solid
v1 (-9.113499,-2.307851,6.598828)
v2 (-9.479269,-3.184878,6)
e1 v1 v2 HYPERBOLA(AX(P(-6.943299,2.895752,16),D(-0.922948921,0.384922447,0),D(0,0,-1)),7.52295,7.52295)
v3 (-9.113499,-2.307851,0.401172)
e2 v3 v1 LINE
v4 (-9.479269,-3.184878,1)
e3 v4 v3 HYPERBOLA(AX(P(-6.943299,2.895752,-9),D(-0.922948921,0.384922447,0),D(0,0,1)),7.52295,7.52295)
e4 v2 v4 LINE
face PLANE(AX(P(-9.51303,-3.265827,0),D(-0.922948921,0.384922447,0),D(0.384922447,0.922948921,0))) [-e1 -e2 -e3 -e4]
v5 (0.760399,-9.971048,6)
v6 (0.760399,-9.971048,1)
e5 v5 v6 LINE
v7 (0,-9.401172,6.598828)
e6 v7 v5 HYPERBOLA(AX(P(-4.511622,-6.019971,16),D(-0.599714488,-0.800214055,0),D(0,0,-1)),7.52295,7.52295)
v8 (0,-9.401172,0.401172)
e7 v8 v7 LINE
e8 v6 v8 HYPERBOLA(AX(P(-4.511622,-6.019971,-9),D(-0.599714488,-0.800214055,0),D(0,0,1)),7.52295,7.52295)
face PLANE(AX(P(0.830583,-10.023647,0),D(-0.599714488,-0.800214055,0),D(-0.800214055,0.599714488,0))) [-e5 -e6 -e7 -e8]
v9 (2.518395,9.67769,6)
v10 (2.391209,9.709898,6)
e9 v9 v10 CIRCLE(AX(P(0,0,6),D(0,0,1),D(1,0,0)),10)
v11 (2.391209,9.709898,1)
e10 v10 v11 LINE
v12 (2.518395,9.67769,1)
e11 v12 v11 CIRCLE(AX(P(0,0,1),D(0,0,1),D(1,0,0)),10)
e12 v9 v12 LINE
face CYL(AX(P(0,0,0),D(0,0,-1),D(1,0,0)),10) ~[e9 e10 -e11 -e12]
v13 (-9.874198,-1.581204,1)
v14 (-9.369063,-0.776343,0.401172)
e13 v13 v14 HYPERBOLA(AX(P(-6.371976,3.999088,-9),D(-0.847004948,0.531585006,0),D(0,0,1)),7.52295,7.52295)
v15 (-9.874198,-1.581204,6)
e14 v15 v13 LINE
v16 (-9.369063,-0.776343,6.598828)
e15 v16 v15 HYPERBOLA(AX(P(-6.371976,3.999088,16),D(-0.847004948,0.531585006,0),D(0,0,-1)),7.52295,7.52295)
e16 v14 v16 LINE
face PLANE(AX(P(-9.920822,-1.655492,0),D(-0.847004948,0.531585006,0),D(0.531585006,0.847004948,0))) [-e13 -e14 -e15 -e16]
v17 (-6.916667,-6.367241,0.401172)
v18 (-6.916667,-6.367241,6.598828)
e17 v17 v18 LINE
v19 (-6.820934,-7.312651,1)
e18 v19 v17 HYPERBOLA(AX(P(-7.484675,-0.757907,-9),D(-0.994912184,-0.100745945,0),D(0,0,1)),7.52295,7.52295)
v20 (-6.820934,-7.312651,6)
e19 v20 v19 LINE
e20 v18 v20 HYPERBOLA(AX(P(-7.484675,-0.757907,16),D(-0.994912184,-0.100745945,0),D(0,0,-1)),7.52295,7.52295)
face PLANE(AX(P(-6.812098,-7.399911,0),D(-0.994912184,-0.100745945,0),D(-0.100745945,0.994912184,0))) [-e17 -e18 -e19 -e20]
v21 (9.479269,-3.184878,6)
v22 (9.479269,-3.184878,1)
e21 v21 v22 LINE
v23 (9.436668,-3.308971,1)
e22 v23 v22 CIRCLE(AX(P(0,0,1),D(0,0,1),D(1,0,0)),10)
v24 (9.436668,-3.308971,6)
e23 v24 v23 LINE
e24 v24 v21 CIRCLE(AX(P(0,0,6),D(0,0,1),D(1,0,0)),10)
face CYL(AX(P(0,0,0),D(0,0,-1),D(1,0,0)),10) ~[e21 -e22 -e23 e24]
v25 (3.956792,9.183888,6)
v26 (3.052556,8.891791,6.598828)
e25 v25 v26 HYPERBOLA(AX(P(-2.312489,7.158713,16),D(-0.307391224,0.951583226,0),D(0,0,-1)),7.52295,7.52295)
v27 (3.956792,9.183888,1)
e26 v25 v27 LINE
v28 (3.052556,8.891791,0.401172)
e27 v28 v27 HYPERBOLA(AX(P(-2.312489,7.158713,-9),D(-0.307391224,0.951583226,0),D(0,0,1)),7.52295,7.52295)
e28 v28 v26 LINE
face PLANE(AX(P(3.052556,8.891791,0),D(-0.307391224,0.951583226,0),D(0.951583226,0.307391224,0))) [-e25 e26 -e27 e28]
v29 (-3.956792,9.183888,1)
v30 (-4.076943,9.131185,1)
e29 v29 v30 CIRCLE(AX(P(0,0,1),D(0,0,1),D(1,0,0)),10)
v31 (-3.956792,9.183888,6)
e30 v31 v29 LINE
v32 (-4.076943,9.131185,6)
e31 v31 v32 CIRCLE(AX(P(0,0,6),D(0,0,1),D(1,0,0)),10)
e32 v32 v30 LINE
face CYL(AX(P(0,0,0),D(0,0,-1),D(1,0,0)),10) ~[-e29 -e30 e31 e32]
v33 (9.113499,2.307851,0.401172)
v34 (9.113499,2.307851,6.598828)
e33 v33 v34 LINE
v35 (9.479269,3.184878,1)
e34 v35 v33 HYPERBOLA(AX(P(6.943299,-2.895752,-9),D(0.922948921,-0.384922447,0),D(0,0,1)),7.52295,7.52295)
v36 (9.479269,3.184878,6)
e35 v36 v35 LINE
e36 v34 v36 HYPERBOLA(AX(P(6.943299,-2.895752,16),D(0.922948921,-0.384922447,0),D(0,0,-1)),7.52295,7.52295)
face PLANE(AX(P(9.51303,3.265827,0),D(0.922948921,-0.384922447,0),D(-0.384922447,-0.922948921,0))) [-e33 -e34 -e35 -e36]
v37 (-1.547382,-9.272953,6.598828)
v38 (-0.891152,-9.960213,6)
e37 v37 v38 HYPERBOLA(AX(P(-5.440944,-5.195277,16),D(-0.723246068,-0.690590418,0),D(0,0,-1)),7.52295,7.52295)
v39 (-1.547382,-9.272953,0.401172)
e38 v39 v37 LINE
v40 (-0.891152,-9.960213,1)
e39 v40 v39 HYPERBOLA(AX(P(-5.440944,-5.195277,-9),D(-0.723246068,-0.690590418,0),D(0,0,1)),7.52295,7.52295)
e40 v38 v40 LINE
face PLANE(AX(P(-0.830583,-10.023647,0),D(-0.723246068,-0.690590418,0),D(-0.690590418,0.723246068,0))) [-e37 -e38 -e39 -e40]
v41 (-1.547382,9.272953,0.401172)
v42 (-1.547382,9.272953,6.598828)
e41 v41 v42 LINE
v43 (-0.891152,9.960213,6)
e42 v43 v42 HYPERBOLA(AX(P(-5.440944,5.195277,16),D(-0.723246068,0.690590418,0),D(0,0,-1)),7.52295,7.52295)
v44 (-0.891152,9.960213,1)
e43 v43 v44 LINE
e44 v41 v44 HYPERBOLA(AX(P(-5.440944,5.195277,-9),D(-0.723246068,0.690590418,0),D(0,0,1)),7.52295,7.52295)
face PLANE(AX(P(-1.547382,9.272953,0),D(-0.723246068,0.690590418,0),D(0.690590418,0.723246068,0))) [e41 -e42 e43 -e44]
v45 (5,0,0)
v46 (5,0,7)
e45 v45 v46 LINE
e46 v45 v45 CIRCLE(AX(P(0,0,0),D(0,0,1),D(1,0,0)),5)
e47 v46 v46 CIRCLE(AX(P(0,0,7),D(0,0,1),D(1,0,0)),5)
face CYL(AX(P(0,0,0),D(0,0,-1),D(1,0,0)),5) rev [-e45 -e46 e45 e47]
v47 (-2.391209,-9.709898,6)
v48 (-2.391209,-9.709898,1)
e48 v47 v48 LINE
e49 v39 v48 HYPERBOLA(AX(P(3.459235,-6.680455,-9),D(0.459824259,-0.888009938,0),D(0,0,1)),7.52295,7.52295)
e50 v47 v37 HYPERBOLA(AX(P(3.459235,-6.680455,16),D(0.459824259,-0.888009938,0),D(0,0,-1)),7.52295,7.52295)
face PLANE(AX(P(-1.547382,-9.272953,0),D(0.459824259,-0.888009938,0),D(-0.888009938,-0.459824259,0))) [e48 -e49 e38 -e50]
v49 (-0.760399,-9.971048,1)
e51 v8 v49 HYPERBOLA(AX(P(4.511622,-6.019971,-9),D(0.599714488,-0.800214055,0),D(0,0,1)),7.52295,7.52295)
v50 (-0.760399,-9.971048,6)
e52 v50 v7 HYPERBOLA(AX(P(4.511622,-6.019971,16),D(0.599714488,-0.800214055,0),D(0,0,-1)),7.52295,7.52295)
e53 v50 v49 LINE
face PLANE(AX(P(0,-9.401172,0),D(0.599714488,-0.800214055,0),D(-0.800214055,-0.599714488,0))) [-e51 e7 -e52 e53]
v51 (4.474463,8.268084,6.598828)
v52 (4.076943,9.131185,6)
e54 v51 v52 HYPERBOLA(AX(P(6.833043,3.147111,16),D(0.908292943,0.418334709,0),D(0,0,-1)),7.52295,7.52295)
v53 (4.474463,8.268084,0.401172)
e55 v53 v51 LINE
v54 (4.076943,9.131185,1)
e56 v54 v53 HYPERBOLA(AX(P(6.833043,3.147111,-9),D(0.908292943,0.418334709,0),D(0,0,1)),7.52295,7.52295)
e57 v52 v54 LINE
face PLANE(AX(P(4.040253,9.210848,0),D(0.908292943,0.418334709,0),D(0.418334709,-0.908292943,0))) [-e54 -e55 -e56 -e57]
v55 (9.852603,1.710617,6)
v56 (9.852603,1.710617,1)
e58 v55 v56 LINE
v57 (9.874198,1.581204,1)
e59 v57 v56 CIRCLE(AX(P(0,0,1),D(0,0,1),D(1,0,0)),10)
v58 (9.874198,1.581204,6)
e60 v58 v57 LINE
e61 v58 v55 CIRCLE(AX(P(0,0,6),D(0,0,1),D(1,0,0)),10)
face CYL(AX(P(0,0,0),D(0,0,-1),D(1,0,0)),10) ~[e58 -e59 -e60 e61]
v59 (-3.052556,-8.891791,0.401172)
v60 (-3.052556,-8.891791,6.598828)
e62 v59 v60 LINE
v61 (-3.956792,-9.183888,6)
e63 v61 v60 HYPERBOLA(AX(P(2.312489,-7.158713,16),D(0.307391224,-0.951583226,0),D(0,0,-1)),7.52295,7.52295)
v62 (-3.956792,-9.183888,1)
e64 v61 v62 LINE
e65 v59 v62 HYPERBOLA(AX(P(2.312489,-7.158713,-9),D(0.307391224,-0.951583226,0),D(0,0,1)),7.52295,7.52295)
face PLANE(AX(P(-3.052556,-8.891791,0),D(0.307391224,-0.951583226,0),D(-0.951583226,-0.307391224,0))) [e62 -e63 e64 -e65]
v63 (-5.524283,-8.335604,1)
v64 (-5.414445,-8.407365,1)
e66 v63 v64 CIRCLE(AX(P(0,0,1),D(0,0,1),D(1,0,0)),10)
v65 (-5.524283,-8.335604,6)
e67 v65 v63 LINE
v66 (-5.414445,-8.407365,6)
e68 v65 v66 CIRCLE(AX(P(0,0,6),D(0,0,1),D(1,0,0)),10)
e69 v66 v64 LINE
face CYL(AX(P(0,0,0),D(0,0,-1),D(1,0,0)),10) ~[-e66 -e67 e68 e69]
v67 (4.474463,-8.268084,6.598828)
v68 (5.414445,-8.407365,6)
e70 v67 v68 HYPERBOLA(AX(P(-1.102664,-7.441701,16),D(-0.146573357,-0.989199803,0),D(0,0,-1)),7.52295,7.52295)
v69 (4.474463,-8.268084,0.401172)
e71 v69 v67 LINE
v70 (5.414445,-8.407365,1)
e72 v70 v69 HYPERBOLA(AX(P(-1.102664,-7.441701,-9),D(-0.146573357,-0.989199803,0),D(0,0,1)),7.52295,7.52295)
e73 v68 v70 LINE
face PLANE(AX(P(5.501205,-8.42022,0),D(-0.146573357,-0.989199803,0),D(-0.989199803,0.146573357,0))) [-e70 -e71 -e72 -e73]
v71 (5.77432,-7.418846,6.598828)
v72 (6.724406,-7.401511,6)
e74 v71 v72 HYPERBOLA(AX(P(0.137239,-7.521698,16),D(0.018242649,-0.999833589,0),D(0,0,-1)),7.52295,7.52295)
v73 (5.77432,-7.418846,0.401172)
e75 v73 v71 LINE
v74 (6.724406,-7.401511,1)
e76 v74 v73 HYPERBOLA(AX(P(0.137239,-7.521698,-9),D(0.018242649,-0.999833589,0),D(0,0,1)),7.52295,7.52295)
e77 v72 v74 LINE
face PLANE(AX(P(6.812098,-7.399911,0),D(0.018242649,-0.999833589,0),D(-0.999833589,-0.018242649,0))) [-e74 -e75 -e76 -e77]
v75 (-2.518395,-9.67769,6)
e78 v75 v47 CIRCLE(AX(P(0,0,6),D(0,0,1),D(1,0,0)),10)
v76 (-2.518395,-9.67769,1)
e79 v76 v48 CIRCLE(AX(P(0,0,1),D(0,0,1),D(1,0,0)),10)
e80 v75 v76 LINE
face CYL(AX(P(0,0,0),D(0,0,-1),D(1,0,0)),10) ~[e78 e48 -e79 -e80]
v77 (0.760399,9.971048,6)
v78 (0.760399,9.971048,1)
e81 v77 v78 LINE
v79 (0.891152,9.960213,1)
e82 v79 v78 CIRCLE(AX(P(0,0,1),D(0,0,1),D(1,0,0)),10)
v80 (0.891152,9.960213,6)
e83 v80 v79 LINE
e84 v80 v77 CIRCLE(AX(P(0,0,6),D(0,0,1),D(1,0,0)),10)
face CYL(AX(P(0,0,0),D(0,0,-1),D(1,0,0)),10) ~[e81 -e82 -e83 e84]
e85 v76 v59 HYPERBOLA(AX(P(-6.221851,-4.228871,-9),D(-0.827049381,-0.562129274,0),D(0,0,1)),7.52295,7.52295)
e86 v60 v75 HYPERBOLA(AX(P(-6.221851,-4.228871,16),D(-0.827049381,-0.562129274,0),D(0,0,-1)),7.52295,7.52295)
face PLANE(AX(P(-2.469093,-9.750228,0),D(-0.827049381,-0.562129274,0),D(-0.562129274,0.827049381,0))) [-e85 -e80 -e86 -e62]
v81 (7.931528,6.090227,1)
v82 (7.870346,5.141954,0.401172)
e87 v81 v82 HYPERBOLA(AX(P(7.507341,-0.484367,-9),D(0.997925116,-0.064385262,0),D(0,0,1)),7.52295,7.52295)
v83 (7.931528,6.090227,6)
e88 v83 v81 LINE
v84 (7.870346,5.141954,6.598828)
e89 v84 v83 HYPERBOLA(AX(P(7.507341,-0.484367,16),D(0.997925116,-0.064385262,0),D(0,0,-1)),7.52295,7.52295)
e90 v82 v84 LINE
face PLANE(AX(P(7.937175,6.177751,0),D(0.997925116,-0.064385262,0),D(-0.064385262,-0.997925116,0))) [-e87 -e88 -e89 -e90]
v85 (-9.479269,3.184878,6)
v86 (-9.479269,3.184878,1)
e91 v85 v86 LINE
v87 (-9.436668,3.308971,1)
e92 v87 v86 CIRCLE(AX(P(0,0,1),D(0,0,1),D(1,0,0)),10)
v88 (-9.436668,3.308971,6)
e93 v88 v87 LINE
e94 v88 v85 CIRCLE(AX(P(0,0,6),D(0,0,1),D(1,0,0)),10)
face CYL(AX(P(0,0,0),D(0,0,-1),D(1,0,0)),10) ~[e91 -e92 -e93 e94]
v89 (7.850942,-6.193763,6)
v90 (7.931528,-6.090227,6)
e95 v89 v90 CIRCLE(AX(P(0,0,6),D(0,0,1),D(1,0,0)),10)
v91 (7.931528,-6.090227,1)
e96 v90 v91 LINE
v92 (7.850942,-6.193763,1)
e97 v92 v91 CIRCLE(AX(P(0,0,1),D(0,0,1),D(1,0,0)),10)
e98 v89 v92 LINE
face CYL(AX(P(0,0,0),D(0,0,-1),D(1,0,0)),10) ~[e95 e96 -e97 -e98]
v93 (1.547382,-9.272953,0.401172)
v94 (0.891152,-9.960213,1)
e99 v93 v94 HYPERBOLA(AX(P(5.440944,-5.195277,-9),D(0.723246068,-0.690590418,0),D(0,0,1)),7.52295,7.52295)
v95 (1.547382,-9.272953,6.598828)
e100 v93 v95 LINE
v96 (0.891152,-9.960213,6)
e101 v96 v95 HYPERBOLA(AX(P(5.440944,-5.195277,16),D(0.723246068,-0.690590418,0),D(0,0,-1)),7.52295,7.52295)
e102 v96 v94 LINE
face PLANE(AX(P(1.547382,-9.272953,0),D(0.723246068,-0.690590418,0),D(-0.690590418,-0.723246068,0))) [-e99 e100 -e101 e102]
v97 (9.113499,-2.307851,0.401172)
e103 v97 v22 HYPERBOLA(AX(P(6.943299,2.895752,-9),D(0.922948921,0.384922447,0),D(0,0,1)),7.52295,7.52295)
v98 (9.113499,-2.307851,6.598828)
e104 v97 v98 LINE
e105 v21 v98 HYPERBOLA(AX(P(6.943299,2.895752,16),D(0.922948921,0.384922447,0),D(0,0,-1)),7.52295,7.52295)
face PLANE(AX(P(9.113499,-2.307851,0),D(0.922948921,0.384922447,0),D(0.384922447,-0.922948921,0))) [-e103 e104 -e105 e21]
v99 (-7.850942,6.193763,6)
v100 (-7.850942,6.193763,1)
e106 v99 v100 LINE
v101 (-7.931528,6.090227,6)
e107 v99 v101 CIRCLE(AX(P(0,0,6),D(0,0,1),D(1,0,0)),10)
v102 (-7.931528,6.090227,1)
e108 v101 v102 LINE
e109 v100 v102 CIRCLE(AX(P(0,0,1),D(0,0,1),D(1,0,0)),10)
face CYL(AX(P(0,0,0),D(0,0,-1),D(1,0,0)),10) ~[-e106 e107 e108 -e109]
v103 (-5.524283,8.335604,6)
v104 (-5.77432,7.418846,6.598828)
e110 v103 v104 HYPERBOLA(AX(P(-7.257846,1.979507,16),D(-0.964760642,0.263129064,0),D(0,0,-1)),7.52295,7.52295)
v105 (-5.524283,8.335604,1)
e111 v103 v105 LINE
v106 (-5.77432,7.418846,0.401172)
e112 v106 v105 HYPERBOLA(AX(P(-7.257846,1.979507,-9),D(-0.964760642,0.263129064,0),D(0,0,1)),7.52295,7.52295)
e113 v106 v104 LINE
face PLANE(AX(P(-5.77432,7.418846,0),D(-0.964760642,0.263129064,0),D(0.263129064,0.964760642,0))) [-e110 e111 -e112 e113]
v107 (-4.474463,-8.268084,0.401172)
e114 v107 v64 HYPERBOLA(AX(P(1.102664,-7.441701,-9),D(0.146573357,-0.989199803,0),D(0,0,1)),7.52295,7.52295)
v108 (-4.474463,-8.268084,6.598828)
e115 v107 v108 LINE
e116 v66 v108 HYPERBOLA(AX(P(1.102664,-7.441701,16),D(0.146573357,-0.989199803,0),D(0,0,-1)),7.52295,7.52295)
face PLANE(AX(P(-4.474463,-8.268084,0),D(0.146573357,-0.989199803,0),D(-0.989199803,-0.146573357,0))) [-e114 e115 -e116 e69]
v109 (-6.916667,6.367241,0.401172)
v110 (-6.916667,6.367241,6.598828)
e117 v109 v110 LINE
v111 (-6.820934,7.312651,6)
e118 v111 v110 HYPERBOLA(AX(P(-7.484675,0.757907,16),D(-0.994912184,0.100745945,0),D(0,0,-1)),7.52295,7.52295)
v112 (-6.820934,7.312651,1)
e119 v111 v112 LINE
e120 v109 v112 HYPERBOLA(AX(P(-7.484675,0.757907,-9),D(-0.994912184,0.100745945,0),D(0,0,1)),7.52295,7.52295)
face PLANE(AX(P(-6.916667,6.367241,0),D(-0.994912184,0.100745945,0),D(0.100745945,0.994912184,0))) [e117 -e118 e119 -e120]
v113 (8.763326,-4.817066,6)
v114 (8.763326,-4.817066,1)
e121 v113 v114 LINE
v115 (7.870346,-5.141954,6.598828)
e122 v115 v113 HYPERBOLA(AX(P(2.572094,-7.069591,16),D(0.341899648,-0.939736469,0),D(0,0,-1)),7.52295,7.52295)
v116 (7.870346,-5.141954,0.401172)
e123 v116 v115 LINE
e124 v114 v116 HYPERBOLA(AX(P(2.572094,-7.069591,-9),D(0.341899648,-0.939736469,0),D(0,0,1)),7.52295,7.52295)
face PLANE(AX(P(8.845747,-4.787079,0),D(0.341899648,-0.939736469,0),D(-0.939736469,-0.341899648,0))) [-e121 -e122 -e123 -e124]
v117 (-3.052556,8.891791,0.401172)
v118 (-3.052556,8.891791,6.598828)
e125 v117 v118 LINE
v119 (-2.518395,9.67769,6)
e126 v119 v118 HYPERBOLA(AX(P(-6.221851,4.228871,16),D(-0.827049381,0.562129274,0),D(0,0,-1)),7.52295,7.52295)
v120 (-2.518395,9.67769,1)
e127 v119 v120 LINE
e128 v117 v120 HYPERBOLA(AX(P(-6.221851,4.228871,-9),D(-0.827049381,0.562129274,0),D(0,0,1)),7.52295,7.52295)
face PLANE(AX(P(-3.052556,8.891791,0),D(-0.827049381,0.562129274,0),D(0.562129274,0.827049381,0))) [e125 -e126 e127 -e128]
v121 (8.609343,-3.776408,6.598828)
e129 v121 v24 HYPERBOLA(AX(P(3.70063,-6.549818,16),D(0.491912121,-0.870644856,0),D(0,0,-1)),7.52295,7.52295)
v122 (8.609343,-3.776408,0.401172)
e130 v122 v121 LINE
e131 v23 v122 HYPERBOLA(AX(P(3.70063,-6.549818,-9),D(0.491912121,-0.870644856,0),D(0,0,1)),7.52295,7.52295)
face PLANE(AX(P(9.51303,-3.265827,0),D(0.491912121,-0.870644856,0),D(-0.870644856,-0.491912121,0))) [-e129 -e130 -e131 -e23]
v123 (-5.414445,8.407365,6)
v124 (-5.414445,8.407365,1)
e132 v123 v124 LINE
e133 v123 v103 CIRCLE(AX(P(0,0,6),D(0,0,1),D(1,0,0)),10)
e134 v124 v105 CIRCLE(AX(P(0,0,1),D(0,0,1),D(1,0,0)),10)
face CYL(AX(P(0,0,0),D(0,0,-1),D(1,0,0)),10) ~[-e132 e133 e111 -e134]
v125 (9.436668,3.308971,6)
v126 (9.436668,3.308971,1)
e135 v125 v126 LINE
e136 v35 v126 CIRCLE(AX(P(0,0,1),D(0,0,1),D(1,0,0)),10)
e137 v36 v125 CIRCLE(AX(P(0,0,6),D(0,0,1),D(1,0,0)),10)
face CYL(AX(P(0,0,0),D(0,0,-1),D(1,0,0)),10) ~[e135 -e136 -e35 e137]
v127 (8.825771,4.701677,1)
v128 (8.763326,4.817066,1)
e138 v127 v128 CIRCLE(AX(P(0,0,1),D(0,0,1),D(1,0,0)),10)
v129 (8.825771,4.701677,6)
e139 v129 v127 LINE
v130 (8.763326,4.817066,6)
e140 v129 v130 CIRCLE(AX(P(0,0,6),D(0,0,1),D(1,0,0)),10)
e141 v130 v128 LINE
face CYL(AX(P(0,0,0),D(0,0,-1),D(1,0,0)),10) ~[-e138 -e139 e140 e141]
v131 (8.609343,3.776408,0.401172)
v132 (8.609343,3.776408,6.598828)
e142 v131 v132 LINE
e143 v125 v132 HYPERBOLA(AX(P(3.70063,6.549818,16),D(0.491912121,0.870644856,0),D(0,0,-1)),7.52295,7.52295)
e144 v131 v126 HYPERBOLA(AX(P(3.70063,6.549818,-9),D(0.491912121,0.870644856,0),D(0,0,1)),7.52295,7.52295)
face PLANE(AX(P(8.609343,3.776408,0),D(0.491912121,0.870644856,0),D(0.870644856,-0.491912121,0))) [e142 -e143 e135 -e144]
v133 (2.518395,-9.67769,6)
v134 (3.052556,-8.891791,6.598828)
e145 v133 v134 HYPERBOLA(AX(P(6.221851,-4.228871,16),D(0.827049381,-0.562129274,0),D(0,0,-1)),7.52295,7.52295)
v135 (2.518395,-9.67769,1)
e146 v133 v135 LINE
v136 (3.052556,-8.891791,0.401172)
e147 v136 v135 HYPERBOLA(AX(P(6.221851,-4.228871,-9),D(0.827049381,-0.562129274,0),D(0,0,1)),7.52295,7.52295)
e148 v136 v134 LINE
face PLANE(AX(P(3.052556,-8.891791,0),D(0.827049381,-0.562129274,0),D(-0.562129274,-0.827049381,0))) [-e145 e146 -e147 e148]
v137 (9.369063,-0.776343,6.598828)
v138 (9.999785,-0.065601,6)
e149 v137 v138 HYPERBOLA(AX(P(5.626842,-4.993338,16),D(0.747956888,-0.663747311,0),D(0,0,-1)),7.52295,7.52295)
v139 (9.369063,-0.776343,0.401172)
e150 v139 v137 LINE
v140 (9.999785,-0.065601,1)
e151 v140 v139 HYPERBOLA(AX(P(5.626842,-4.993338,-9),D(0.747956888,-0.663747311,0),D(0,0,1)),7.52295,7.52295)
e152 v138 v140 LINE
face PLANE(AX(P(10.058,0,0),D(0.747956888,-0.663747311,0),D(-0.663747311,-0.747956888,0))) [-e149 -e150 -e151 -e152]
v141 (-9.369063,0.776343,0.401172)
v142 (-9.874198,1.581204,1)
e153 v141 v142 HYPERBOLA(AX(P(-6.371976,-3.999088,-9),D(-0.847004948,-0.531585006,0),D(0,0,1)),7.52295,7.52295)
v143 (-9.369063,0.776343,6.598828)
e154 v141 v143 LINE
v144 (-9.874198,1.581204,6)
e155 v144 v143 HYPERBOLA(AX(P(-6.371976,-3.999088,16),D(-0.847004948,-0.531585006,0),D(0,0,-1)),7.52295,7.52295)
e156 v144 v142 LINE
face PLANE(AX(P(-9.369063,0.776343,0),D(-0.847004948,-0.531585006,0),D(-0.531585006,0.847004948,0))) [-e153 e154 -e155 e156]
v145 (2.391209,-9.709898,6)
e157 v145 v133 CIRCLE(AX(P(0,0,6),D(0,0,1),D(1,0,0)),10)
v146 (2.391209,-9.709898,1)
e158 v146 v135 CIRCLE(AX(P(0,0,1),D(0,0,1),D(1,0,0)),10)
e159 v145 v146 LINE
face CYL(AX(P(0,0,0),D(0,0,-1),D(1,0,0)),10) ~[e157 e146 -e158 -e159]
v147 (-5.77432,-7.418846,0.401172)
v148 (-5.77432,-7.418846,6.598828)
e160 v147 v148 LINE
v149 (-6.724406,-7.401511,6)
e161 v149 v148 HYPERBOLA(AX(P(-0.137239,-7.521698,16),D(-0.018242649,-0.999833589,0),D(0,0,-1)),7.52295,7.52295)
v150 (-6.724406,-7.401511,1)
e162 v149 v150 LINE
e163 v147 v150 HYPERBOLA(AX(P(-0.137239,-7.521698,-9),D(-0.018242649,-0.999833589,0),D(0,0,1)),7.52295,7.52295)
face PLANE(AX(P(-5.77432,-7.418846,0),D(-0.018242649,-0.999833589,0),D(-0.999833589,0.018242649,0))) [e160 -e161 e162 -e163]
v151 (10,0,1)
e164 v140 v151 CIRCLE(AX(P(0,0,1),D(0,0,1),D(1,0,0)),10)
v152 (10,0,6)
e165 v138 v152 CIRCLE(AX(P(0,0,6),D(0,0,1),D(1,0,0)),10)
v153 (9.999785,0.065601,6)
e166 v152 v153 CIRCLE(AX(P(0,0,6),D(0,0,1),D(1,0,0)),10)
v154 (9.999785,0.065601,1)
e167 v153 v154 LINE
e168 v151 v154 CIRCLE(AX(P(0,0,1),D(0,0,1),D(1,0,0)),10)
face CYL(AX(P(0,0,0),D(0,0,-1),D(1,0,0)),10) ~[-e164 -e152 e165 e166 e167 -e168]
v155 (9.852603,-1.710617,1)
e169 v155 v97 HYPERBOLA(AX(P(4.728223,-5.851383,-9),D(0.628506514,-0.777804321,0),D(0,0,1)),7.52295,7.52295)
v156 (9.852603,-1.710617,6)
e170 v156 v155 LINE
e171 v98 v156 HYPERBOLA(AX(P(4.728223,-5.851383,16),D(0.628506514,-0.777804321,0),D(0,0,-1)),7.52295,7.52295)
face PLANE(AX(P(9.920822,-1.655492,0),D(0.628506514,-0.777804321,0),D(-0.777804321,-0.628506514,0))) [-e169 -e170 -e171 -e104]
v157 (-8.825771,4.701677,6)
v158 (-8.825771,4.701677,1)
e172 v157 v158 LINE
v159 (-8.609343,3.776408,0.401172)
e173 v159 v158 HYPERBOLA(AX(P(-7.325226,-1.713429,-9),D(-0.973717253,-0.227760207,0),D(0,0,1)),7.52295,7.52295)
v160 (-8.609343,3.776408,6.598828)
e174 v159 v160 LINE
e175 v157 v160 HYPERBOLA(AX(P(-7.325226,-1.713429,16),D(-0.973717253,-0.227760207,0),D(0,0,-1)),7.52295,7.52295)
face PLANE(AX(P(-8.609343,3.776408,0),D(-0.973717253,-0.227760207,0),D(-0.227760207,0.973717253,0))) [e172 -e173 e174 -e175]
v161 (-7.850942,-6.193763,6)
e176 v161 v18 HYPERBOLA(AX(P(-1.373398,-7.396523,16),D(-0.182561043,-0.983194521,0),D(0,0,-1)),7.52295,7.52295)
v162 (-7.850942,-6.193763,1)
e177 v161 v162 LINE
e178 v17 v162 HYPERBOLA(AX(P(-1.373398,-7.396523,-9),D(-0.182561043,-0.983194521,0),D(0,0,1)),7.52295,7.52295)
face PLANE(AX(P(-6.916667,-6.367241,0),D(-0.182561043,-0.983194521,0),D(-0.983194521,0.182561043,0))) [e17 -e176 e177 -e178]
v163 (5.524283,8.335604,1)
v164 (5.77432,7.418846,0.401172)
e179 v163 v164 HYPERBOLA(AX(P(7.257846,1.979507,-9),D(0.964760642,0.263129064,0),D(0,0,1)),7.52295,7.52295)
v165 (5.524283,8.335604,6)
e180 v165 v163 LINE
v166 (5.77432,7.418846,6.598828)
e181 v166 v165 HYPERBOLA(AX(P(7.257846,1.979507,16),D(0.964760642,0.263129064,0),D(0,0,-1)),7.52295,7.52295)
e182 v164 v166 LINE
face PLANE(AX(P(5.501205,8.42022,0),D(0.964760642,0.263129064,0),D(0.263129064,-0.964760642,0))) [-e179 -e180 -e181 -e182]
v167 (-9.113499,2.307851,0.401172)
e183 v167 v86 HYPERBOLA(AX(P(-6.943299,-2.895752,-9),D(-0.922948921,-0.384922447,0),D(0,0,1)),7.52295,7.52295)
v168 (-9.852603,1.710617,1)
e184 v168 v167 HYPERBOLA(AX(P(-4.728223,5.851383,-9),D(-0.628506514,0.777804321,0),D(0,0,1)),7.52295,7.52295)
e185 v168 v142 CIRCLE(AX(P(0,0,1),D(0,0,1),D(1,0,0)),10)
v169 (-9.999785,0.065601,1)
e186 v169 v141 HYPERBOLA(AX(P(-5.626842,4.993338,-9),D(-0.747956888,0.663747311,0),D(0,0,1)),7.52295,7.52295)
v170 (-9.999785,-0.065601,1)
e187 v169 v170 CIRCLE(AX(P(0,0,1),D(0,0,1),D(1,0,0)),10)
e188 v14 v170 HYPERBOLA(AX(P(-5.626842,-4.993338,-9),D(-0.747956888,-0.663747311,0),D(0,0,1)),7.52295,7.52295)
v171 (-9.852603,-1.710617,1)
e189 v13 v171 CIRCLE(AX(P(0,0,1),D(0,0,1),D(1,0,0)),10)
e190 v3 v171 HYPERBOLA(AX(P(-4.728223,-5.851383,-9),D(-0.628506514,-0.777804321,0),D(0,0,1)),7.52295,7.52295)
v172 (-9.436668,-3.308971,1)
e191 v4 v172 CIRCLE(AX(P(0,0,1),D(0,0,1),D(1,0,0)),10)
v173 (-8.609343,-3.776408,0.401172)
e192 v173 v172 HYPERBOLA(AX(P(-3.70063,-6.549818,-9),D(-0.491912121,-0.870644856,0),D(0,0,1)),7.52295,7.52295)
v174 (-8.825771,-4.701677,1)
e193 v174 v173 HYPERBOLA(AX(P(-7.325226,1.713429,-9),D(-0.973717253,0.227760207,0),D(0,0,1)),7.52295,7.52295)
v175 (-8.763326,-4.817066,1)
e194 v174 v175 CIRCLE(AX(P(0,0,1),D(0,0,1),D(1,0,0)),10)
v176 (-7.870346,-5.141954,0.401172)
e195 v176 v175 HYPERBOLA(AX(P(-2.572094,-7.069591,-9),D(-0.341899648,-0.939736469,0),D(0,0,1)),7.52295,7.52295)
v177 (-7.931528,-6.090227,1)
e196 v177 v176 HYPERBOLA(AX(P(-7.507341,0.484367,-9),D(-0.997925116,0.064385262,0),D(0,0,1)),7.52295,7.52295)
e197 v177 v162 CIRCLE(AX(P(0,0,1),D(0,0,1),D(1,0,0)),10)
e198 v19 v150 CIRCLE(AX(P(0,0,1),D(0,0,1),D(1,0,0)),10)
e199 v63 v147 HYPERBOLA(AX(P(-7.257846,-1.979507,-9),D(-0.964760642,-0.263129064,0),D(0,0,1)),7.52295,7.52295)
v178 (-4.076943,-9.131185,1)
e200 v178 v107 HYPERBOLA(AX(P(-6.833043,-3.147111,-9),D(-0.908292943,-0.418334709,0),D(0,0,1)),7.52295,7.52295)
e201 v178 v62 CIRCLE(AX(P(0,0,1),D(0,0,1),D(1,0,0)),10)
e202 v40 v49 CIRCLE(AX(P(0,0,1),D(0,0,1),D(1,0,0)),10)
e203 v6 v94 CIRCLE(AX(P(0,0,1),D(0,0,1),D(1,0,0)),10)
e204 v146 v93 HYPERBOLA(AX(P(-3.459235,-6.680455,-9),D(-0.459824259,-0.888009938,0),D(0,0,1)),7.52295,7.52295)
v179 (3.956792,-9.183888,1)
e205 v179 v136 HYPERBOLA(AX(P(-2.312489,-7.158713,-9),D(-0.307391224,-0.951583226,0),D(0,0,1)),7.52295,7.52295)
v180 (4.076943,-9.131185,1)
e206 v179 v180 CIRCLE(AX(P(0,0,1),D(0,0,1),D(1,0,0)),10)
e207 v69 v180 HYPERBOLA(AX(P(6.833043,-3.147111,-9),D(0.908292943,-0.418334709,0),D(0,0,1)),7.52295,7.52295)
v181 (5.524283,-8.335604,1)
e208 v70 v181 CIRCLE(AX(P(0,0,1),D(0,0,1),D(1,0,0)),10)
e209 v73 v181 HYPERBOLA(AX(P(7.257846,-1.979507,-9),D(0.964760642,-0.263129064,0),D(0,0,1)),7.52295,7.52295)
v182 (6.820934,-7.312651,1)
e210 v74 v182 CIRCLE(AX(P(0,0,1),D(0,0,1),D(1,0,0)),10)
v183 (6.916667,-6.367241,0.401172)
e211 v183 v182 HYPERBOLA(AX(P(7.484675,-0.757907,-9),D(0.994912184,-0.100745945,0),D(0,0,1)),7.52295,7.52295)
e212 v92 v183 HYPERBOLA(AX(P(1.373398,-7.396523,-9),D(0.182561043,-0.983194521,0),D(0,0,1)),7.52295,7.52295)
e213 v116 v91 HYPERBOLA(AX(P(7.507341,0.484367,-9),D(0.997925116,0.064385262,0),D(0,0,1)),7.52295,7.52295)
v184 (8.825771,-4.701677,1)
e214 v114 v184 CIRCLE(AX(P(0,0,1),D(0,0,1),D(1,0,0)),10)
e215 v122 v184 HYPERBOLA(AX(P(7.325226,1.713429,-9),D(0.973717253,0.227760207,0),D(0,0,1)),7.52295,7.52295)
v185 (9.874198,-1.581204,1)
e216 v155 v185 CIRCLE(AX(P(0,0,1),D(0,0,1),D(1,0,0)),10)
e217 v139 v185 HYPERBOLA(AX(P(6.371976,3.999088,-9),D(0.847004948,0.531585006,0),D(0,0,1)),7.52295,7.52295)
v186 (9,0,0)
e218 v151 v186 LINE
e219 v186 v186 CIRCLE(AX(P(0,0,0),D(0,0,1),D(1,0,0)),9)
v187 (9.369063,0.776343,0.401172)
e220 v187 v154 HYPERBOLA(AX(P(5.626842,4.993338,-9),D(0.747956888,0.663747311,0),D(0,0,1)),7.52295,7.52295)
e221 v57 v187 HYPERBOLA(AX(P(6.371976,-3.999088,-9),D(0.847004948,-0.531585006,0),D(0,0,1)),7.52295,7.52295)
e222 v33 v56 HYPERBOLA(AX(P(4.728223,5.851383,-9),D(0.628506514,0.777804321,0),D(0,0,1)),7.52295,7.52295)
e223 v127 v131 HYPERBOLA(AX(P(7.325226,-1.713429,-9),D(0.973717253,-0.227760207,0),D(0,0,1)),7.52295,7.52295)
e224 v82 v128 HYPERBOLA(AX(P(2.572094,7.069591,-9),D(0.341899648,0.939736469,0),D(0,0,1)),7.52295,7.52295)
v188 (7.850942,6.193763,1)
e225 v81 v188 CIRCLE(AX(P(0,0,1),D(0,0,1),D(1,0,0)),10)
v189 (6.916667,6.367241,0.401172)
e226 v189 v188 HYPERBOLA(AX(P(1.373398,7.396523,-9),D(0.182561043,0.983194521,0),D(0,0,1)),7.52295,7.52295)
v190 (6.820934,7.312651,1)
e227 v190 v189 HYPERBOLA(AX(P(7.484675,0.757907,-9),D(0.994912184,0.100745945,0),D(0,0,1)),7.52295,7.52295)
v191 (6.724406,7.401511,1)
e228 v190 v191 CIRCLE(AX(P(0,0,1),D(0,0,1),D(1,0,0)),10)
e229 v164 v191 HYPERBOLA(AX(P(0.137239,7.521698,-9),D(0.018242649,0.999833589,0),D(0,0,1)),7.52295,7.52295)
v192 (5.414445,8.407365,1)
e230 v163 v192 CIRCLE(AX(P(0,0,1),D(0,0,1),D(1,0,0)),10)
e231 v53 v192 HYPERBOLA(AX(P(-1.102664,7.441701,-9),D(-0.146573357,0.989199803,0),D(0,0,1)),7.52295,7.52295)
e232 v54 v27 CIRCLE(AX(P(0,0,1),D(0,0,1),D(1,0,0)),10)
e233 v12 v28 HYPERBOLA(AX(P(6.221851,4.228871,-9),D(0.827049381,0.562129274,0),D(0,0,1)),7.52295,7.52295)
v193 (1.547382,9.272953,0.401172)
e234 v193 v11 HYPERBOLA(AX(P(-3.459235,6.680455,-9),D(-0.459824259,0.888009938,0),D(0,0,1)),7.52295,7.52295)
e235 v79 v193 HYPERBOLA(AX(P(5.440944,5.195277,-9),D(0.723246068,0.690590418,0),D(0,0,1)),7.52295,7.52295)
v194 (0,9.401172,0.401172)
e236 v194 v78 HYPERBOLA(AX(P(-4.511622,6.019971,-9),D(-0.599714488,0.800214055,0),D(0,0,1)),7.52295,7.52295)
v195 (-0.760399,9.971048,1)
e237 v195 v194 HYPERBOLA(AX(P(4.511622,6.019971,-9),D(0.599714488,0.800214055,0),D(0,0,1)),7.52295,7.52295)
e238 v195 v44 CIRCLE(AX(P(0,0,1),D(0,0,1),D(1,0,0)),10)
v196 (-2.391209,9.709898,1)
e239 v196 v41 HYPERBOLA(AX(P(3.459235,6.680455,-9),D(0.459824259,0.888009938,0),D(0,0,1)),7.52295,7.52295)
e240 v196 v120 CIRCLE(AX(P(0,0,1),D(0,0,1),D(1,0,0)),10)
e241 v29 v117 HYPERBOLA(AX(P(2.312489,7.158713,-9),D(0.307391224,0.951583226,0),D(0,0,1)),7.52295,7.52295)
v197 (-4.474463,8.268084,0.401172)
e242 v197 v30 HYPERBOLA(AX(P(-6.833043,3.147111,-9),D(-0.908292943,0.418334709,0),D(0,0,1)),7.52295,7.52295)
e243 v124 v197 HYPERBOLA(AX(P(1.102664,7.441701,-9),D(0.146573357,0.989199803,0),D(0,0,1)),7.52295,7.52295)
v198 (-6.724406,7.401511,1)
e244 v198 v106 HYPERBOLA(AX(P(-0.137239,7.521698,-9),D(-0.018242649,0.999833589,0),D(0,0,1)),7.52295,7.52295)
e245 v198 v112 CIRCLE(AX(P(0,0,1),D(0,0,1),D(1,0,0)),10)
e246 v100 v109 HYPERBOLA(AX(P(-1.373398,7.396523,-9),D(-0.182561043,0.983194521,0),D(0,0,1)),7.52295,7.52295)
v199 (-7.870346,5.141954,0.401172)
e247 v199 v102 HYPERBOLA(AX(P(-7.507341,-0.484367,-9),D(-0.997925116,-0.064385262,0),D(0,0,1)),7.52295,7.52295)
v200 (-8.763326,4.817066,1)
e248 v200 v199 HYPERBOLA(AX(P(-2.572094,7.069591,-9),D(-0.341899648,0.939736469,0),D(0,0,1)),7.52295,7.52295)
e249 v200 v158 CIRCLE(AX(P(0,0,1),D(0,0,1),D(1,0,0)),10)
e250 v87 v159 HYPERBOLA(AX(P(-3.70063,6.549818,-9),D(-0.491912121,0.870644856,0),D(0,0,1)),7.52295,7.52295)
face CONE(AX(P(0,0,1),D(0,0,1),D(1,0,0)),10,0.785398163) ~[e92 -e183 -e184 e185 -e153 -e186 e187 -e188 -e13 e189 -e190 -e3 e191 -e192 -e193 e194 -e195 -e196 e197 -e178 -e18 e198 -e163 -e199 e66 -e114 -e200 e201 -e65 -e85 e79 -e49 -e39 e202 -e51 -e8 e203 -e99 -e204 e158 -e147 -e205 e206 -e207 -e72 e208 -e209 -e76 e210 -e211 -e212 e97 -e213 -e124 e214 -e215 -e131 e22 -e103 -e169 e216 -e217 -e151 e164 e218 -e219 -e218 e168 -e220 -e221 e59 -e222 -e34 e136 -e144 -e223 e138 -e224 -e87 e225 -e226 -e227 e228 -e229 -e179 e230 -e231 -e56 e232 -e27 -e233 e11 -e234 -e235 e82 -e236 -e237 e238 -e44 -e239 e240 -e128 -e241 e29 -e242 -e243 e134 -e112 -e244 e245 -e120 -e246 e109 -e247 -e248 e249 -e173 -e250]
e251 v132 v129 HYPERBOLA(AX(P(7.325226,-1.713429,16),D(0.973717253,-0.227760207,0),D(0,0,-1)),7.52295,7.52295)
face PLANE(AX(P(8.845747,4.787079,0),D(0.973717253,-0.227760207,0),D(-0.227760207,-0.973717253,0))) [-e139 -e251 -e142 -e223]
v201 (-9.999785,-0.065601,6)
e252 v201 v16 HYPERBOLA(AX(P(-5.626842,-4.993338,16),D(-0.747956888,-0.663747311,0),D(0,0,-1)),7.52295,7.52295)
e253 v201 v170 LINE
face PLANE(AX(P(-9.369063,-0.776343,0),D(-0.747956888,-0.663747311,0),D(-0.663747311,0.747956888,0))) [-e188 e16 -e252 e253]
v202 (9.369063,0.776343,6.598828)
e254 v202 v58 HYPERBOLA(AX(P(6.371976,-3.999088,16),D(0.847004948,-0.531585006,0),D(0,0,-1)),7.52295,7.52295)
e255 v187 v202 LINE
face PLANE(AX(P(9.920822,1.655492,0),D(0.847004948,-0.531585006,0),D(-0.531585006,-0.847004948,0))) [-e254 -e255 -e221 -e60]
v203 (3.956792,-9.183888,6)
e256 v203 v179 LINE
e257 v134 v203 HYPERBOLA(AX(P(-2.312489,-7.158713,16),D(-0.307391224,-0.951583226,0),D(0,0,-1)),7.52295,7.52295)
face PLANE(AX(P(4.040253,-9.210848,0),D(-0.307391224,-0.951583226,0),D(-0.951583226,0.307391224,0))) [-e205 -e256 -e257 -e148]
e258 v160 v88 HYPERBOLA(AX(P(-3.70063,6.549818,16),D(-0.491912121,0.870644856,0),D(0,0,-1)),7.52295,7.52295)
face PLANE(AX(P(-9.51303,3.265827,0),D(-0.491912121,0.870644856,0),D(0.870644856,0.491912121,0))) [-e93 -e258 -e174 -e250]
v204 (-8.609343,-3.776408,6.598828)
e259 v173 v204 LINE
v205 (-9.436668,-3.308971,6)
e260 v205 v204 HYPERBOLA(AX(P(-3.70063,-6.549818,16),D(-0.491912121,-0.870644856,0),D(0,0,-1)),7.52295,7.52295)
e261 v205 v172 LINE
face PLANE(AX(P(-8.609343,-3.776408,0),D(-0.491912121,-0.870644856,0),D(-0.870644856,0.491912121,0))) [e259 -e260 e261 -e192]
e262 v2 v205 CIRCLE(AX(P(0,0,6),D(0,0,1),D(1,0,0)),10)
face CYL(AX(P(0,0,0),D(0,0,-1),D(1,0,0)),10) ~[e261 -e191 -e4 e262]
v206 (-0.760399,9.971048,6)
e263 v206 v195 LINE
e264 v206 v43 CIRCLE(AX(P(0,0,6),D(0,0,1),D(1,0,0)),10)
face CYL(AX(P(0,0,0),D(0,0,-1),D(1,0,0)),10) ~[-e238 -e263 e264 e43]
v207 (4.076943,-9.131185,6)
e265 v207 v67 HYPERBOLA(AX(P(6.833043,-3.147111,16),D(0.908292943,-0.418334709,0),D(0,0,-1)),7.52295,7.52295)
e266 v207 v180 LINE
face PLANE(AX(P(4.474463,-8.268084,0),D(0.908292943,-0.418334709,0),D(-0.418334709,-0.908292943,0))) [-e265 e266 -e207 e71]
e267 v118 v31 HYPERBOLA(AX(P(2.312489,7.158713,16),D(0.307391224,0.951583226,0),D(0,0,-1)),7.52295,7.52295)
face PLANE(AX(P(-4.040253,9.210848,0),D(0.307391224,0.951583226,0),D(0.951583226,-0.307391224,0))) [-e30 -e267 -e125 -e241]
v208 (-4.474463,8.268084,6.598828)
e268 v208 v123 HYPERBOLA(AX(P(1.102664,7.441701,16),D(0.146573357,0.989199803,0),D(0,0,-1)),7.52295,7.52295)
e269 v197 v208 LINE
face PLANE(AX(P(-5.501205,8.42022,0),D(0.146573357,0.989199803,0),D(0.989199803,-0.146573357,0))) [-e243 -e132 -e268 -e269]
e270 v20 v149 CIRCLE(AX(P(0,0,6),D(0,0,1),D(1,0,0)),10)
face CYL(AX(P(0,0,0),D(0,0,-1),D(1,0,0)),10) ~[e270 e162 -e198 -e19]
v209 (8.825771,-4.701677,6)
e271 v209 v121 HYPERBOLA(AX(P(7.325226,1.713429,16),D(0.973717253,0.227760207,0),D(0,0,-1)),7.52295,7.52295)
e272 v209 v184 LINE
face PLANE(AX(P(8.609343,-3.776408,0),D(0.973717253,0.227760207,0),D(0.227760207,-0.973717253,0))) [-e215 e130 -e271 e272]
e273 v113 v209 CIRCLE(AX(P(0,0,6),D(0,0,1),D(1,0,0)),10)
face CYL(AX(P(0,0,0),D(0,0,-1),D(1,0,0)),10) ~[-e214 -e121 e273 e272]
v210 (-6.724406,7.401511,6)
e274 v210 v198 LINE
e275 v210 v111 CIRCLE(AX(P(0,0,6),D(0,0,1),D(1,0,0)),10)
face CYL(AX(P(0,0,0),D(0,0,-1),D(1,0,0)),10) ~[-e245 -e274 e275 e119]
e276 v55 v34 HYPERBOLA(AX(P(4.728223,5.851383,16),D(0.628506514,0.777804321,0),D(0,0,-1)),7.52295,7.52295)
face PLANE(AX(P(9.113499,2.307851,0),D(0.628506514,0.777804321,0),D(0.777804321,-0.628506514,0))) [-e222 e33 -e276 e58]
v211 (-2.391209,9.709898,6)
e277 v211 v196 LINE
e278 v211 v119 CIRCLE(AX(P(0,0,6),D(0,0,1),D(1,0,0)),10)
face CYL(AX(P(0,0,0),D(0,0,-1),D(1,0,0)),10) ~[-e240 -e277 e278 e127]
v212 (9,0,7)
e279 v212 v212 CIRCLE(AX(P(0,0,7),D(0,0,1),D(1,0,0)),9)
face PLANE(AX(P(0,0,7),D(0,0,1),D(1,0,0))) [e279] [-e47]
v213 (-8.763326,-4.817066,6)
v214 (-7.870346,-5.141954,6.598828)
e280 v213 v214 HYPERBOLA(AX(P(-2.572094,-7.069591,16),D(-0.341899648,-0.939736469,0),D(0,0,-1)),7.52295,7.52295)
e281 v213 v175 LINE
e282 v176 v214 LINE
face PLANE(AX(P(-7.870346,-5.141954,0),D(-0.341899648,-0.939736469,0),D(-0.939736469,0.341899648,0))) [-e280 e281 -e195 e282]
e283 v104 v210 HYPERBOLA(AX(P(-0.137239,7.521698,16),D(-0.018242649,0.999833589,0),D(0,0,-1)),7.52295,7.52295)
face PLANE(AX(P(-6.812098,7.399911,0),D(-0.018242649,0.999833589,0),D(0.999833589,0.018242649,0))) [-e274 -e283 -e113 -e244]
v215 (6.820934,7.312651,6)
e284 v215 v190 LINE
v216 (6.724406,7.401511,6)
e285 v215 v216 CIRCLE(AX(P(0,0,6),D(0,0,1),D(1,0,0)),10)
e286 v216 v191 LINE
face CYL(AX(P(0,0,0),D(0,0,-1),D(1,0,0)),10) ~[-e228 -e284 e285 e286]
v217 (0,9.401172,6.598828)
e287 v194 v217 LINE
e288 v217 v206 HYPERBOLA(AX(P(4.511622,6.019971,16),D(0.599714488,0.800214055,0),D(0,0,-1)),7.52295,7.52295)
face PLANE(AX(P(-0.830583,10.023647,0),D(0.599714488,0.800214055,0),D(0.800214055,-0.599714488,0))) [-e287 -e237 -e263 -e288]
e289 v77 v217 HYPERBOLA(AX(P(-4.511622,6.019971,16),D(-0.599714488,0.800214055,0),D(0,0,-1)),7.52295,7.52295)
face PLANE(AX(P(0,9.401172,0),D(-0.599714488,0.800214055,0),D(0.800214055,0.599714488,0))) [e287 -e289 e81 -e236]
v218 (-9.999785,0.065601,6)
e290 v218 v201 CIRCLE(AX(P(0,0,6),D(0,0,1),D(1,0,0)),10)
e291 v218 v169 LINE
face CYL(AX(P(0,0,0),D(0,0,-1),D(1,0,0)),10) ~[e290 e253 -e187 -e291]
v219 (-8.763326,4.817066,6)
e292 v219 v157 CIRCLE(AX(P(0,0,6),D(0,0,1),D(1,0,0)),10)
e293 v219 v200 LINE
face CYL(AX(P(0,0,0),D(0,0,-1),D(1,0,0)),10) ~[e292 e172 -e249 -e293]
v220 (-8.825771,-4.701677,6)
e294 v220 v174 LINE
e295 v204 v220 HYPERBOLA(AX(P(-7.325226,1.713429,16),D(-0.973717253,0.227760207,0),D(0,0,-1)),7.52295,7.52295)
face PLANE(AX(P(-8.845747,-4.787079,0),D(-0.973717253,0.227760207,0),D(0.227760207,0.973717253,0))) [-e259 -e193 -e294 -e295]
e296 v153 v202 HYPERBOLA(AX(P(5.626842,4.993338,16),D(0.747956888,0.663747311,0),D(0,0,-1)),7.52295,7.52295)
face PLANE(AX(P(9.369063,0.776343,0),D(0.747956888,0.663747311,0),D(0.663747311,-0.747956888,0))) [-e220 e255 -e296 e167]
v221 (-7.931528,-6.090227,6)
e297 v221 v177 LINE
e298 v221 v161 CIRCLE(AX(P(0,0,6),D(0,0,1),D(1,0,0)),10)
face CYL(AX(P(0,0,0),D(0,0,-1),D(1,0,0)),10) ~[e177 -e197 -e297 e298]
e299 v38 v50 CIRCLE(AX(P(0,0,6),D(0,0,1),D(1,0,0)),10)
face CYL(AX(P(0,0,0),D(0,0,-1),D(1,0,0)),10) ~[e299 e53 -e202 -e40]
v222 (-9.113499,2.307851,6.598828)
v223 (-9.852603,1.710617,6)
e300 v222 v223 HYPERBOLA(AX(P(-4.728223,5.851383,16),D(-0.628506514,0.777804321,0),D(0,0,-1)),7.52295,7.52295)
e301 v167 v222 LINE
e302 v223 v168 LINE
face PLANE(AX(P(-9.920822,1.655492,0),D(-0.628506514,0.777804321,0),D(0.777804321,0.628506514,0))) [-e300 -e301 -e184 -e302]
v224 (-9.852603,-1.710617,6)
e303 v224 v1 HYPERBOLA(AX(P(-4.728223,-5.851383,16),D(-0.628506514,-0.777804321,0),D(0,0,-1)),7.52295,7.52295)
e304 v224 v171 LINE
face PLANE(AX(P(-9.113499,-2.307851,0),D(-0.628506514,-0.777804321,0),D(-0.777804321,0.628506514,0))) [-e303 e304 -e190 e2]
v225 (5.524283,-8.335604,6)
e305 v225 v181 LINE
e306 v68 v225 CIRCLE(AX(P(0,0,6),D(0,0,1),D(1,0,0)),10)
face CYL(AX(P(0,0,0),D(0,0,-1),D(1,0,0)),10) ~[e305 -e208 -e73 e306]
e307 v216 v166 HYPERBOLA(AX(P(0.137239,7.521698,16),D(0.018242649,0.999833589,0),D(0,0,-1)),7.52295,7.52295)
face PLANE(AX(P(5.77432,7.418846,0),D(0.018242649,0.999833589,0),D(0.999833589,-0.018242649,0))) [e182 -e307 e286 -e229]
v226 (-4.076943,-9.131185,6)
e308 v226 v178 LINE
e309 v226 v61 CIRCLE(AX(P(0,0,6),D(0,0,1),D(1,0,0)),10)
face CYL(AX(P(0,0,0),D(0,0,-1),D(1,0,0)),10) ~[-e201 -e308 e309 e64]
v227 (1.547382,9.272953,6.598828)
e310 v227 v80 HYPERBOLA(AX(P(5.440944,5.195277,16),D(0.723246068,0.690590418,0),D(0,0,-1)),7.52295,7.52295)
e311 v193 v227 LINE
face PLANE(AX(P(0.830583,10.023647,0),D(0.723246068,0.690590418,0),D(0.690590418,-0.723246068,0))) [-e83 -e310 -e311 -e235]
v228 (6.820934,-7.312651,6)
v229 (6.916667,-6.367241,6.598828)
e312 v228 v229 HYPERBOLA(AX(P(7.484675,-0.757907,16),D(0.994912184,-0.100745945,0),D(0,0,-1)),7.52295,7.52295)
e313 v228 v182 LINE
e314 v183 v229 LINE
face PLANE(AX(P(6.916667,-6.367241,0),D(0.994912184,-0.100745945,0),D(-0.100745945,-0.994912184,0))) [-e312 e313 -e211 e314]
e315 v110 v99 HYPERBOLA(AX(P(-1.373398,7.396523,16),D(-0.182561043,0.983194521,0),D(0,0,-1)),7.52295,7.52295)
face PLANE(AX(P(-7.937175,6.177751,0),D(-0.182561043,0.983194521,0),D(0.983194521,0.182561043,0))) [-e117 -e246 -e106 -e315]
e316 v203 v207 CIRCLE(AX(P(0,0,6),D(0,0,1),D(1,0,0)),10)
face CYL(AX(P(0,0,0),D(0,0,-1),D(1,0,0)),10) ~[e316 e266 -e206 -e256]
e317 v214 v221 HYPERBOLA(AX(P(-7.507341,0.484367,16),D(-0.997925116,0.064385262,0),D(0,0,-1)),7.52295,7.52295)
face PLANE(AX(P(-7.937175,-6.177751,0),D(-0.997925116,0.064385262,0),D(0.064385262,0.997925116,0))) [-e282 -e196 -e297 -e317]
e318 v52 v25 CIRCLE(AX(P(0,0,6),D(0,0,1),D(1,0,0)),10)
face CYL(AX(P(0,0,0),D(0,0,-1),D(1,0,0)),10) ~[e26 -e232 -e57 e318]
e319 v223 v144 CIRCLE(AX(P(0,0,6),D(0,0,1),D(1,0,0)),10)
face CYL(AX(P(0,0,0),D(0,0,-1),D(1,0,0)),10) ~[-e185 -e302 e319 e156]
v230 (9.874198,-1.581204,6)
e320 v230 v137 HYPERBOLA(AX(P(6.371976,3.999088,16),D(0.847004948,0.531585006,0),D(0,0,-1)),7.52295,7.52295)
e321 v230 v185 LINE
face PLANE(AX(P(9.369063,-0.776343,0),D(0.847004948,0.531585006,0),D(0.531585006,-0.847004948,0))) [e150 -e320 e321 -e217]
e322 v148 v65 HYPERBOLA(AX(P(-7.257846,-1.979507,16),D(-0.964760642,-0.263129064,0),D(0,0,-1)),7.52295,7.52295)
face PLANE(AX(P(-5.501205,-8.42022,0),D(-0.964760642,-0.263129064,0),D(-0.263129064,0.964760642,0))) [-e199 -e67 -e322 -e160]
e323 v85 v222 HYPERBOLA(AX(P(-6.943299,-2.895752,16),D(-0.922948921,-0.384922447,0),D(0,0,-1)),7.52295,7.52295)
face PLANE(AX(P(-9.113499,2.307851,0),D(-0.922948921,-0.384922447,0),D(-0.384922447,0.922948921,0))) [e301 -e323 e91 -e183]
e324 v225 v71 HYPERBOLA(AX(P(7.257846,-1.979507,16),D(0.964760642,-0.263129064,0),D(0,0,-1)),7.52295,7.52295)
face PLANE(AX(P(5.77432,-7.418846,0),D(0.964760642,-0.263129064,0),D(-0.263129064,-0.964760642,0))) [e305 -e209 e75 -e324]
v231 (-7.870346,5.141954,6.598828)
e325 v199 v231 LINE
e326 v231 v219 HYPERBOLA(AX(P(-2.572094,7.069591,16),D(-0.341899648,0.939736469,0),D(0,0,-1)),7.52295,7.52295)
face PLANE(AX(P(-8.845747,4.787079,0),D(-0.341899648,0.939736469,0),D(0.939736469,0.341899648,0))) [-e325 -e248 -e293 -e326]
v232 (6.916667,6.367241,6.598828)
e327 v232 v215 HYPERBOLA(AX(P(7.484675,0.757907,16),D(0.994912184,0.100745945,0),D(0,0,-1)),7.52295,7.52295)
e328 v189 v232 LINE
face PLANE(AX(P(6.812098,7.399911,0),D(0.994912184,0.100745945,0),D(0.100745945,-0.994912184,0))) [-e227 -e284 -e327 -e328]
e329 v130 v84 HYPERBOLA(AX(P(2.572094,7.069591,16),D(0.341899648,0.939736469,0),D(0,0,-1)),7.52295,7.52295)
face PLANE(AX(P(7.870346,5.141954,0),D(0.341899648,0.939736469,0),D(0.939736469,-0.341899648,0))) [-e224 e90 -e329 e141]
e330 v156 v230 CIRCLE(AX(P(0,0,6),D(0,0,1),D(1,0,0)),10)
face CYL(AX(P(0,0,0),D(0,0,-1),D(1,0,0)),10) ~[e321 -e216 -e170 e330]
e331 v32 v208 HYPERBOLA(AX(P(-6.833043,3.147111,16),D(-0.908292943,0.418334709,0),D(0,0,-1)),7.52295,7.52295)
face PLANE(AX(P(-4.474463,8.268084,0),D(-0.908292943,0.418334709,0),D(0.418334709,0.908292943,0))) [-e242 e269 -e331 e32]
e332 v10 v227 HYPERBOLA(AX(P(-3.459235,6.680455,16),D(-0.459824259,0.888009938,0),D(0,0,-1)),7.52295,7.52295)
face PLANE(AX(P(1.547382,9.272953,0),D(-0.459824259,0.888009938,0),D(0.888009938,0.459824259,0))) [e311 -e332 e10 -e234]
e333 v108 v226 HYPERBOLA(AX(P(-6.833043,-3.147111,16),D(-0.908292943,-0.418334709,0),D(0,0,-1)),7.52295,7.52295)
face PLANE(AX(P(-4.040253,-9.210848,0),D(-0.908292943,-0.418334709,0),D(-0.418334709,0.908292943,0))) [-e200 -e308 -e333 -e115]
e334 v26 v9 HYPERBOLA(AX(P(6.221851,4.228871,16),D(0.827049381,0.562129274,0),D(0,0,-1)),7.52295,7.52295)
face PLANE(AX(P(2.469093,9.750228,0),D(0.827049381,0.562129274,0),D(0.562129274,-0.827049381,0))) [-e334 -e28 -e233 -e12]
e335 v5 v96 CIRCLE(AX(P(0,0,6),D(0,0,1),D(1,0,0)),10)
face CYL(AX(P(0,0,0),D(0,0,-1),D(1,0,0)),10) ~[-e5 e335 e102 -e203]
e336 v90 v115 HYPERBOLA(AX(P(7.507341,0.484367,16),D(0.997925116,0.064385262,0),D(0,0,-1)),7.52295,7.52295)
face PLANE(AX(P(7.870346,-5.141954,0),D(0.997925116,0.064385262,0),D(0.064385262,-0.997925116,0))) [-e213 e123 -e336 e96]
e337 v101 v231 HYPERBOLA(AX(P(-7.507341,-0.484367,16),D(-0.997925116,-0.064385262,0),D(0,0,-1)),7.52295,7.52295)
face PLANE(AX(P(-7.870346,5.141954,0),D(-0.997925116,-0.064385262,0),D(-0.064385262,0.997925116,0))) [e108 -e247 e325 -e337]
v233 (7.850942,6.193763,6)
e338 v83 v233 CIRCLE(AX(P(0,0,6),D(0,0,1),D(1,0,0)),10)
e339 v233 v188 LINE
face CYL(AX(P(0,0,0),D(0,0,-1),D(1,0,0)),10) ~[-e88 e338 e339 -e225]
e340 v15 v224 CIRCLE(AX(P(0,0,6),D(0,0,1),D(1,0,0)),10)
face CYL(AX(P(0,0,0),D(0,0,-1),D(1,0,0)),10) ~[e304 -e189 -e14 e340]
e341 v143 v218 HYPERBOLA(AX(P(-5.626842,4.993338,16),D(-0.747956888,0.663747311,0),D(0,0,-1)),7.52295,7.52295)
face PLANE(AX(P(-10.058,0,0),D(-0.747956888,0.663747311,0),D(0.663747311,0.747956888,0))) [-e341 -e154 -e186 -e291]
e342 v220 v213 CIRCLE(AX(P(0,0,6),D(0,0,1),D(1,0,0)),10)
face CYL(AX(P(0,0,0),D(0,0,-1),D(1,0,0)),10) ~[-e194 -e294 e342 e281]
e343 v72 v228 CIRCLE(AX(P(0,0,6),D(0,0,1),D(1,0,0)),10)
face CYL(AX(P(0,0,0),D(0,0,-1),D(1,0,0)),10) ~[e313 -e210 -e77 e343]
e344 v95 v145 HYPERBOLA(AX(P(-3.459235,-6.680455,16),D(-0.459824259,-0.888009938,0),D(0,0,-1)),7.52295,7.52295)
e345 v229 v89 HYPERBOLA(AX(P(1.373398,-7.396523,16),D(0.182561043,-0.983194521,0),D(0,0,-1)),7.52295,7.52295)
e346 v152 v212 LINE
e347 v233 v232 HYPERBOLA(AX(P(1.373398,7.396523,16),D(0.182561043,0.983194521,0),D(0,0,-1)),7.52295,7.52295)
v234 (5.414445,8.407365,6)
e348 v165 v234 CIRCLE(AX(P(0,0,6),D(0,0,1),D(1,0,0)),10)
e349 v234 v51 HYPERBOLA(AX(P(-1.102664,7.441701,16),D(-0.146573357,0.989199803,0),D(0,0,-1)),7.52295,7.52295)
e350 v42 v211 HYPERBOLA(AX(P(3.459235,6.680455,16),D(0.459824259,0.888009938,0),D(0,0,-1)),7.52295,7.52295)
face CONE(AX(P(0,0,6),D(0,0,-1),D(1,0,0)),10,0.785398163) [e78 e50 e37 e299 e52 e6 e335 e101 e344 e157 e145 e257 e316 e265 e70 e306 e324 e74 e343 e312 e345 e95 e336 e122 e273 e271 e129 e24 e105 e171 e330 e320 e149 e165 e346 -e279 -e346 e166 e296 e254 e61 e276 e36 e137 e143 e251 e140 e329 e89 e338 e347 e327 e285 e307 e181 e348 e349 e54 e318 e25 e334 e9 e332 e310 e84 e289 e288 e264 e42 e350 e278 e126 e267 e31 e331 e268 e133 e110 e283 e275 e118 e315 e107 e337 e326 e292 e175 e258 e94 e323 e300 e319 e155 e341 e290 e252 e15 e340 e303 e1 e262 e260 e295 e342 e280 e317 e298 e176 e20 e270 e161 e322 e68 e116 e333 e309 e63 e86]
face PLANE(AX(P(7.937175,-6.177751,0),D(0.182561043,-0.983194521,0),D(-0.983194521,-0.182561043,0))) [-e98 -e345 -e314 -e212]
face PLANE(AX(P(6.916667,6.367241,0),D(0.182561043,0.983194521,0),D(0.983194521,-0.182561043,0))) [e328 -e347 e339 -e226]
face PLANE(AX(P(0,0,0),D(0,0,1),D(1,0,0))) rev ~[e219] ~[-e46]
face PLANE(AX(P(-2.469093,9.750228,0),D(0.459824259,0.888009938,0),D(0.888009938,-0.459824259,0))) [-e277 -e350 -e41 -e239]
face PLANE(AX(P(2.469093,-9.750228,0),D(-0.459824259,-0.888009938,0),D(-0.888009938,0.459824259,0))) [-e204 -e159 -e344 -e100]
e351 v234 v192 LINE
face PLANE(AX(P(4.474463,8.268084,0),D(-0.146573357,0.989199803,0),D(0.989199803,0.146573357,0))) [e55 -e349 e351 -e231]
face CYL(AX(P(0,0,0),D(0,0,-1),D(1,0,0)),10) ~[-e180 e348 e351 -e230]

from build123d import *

# Parameters (mm, degrees)
F0_R          = 10
F0_R_2        = 5
F1_DEPTH      = 7
F2_SIZE       = 1
F3_R          = 11.3100370754
F4_DEPTH      = 25
F4_DEPTH_BACK = 25


with BuildPart() as f1:
    # F0 (on Top) → F1 (new body)
    with BuildSketch(Plane.XY):
        Circle(F0_R)
        Circle(F0_R_2, mode=Mode.SUBTRACT)
    extrude(amount=F1_DEPTH)

    # F2
    f2_edges = [f1.edges().sort_by_distance(p)[0] for p in [
        (-10, 0, 7),
        (-10, 0, 0),
    ]]
    chamfer(f2_edges, length=F2_SIZE)

    # F3 (on Top) → F4 (cut, two sides)
    with BuildSketch(Plane.XY) as f4_sk:
        Circle(F3_R)
        Polygon((-0.8305830461, 10.0236467025), (0, 9.4011723995), (0.8305830461, 10.0236467025), (1.5473821193, 9.2729526615), (2.4690929981, 9.7502277502), (3.052555688, 8.8917909477), (4.0402525295, 9.2108480018), (4.474463495, 8.2680843559), (5.5012045041, 8.4202203307), (5.774319602, 7.4188459763), (6.8120979603, 7.399910999), (6.9166673227, 6.3672408179), (7.937175142, 6.1777513853), (7.8703463892, 5.1419539281), (8.8457468766, 4.787078818), (8.6093429228, 3.7764079393), (9.5130296954, 3.2658272195), (9.1134990242, 2.3078513862), (9.9208218628, 1.6554923679), (9.3690626294, 0.7763426634), (10.0579998714, 0), (9.3690626294, -0.7763426634), (9.9208218628, -1.6554923679), (9.1134990242, -2.3078513862), (9.5130296954, -3.2658272195), (8.6093429228, -3.7764079393), (8.8457468766, -4.787078818), (7.8703463892, -5.1419539281), (7.937175142, -6.1777513853), (6.9166673227, -6.3672408179), (6.8120979603, -7.399910999), (5.774319602, -7.4188459763), (5.5012045041, -8.4202203307), (4.474463495, -8.2680843559), (4.0402525295, -9.2108480018), (3.052555688, -8.8917909477), (2.4690929981, -9.7502277502), (1.5473821193, -9.2729526615), (0.8305830461, -10.0236467025), (0, -9.4011723995), (-0.8305830461, -10.0236467025), (-1.5473821193, -9.2729526615), (-2.4690929981, -9.7502277502), (-3.052555688, -8.8917909477), (-4.0402525295, -9.2108480018), (-4.474463495, -8.2680843559), (-5.5012045041, -8.4202203307), (-5.774319602, -7.4188459763), (-6.8120979603, -7.399910999), (-6.9166673227, -6.3672408179), (-7.937175142, -6.1777513853), (-7.8703463892, -5.1419539281), (-8.8457468766, -4.787078818), (-8.6093429228, -3.7764079393), (-9.5130296954, -3.2658272195), (-9.1134990242, -2.3078513862), (-9.9208218628, -1.6554923679), (-9.3690626294, -0.7763426634), (-10.0579998714, 0), (-9.3690626294, 0.7763426634), (-9.9208218628, 1.6554923679), (-9.1134990242, 2.3078513862), (-9.5130296954, 3.2658272195), (-8.6093429228, 3.7764079393), (-8.8457468766, 4.787078818), (-7.8703463892, 5.1419539281), (-7.937175142, 6.1777513853), (-6.9166673227, 6.3672408179), (-6.8120979603, 7.399910999), (-5.774319602, 7.4188459763), (-5.5012045041, 8.4202203307), (-4.474463495, 8.2680843559), (-4.0402525295, 9.2108480018), (-3.052555688, 8.8917909477), (-2.4690929981, 9.7502277502), (-1.5473821193, 9.2729526615), align=None, mode=Mode.SUBTRACT)
    extrude(amount=-F4_DEPTH, mode=Mode.SUBTRACT)
    extrude(f4_sk.sketch, amount=F4_DEPTH_BACK, mode=Mode.SUBTRACT)


solid = f1.part
